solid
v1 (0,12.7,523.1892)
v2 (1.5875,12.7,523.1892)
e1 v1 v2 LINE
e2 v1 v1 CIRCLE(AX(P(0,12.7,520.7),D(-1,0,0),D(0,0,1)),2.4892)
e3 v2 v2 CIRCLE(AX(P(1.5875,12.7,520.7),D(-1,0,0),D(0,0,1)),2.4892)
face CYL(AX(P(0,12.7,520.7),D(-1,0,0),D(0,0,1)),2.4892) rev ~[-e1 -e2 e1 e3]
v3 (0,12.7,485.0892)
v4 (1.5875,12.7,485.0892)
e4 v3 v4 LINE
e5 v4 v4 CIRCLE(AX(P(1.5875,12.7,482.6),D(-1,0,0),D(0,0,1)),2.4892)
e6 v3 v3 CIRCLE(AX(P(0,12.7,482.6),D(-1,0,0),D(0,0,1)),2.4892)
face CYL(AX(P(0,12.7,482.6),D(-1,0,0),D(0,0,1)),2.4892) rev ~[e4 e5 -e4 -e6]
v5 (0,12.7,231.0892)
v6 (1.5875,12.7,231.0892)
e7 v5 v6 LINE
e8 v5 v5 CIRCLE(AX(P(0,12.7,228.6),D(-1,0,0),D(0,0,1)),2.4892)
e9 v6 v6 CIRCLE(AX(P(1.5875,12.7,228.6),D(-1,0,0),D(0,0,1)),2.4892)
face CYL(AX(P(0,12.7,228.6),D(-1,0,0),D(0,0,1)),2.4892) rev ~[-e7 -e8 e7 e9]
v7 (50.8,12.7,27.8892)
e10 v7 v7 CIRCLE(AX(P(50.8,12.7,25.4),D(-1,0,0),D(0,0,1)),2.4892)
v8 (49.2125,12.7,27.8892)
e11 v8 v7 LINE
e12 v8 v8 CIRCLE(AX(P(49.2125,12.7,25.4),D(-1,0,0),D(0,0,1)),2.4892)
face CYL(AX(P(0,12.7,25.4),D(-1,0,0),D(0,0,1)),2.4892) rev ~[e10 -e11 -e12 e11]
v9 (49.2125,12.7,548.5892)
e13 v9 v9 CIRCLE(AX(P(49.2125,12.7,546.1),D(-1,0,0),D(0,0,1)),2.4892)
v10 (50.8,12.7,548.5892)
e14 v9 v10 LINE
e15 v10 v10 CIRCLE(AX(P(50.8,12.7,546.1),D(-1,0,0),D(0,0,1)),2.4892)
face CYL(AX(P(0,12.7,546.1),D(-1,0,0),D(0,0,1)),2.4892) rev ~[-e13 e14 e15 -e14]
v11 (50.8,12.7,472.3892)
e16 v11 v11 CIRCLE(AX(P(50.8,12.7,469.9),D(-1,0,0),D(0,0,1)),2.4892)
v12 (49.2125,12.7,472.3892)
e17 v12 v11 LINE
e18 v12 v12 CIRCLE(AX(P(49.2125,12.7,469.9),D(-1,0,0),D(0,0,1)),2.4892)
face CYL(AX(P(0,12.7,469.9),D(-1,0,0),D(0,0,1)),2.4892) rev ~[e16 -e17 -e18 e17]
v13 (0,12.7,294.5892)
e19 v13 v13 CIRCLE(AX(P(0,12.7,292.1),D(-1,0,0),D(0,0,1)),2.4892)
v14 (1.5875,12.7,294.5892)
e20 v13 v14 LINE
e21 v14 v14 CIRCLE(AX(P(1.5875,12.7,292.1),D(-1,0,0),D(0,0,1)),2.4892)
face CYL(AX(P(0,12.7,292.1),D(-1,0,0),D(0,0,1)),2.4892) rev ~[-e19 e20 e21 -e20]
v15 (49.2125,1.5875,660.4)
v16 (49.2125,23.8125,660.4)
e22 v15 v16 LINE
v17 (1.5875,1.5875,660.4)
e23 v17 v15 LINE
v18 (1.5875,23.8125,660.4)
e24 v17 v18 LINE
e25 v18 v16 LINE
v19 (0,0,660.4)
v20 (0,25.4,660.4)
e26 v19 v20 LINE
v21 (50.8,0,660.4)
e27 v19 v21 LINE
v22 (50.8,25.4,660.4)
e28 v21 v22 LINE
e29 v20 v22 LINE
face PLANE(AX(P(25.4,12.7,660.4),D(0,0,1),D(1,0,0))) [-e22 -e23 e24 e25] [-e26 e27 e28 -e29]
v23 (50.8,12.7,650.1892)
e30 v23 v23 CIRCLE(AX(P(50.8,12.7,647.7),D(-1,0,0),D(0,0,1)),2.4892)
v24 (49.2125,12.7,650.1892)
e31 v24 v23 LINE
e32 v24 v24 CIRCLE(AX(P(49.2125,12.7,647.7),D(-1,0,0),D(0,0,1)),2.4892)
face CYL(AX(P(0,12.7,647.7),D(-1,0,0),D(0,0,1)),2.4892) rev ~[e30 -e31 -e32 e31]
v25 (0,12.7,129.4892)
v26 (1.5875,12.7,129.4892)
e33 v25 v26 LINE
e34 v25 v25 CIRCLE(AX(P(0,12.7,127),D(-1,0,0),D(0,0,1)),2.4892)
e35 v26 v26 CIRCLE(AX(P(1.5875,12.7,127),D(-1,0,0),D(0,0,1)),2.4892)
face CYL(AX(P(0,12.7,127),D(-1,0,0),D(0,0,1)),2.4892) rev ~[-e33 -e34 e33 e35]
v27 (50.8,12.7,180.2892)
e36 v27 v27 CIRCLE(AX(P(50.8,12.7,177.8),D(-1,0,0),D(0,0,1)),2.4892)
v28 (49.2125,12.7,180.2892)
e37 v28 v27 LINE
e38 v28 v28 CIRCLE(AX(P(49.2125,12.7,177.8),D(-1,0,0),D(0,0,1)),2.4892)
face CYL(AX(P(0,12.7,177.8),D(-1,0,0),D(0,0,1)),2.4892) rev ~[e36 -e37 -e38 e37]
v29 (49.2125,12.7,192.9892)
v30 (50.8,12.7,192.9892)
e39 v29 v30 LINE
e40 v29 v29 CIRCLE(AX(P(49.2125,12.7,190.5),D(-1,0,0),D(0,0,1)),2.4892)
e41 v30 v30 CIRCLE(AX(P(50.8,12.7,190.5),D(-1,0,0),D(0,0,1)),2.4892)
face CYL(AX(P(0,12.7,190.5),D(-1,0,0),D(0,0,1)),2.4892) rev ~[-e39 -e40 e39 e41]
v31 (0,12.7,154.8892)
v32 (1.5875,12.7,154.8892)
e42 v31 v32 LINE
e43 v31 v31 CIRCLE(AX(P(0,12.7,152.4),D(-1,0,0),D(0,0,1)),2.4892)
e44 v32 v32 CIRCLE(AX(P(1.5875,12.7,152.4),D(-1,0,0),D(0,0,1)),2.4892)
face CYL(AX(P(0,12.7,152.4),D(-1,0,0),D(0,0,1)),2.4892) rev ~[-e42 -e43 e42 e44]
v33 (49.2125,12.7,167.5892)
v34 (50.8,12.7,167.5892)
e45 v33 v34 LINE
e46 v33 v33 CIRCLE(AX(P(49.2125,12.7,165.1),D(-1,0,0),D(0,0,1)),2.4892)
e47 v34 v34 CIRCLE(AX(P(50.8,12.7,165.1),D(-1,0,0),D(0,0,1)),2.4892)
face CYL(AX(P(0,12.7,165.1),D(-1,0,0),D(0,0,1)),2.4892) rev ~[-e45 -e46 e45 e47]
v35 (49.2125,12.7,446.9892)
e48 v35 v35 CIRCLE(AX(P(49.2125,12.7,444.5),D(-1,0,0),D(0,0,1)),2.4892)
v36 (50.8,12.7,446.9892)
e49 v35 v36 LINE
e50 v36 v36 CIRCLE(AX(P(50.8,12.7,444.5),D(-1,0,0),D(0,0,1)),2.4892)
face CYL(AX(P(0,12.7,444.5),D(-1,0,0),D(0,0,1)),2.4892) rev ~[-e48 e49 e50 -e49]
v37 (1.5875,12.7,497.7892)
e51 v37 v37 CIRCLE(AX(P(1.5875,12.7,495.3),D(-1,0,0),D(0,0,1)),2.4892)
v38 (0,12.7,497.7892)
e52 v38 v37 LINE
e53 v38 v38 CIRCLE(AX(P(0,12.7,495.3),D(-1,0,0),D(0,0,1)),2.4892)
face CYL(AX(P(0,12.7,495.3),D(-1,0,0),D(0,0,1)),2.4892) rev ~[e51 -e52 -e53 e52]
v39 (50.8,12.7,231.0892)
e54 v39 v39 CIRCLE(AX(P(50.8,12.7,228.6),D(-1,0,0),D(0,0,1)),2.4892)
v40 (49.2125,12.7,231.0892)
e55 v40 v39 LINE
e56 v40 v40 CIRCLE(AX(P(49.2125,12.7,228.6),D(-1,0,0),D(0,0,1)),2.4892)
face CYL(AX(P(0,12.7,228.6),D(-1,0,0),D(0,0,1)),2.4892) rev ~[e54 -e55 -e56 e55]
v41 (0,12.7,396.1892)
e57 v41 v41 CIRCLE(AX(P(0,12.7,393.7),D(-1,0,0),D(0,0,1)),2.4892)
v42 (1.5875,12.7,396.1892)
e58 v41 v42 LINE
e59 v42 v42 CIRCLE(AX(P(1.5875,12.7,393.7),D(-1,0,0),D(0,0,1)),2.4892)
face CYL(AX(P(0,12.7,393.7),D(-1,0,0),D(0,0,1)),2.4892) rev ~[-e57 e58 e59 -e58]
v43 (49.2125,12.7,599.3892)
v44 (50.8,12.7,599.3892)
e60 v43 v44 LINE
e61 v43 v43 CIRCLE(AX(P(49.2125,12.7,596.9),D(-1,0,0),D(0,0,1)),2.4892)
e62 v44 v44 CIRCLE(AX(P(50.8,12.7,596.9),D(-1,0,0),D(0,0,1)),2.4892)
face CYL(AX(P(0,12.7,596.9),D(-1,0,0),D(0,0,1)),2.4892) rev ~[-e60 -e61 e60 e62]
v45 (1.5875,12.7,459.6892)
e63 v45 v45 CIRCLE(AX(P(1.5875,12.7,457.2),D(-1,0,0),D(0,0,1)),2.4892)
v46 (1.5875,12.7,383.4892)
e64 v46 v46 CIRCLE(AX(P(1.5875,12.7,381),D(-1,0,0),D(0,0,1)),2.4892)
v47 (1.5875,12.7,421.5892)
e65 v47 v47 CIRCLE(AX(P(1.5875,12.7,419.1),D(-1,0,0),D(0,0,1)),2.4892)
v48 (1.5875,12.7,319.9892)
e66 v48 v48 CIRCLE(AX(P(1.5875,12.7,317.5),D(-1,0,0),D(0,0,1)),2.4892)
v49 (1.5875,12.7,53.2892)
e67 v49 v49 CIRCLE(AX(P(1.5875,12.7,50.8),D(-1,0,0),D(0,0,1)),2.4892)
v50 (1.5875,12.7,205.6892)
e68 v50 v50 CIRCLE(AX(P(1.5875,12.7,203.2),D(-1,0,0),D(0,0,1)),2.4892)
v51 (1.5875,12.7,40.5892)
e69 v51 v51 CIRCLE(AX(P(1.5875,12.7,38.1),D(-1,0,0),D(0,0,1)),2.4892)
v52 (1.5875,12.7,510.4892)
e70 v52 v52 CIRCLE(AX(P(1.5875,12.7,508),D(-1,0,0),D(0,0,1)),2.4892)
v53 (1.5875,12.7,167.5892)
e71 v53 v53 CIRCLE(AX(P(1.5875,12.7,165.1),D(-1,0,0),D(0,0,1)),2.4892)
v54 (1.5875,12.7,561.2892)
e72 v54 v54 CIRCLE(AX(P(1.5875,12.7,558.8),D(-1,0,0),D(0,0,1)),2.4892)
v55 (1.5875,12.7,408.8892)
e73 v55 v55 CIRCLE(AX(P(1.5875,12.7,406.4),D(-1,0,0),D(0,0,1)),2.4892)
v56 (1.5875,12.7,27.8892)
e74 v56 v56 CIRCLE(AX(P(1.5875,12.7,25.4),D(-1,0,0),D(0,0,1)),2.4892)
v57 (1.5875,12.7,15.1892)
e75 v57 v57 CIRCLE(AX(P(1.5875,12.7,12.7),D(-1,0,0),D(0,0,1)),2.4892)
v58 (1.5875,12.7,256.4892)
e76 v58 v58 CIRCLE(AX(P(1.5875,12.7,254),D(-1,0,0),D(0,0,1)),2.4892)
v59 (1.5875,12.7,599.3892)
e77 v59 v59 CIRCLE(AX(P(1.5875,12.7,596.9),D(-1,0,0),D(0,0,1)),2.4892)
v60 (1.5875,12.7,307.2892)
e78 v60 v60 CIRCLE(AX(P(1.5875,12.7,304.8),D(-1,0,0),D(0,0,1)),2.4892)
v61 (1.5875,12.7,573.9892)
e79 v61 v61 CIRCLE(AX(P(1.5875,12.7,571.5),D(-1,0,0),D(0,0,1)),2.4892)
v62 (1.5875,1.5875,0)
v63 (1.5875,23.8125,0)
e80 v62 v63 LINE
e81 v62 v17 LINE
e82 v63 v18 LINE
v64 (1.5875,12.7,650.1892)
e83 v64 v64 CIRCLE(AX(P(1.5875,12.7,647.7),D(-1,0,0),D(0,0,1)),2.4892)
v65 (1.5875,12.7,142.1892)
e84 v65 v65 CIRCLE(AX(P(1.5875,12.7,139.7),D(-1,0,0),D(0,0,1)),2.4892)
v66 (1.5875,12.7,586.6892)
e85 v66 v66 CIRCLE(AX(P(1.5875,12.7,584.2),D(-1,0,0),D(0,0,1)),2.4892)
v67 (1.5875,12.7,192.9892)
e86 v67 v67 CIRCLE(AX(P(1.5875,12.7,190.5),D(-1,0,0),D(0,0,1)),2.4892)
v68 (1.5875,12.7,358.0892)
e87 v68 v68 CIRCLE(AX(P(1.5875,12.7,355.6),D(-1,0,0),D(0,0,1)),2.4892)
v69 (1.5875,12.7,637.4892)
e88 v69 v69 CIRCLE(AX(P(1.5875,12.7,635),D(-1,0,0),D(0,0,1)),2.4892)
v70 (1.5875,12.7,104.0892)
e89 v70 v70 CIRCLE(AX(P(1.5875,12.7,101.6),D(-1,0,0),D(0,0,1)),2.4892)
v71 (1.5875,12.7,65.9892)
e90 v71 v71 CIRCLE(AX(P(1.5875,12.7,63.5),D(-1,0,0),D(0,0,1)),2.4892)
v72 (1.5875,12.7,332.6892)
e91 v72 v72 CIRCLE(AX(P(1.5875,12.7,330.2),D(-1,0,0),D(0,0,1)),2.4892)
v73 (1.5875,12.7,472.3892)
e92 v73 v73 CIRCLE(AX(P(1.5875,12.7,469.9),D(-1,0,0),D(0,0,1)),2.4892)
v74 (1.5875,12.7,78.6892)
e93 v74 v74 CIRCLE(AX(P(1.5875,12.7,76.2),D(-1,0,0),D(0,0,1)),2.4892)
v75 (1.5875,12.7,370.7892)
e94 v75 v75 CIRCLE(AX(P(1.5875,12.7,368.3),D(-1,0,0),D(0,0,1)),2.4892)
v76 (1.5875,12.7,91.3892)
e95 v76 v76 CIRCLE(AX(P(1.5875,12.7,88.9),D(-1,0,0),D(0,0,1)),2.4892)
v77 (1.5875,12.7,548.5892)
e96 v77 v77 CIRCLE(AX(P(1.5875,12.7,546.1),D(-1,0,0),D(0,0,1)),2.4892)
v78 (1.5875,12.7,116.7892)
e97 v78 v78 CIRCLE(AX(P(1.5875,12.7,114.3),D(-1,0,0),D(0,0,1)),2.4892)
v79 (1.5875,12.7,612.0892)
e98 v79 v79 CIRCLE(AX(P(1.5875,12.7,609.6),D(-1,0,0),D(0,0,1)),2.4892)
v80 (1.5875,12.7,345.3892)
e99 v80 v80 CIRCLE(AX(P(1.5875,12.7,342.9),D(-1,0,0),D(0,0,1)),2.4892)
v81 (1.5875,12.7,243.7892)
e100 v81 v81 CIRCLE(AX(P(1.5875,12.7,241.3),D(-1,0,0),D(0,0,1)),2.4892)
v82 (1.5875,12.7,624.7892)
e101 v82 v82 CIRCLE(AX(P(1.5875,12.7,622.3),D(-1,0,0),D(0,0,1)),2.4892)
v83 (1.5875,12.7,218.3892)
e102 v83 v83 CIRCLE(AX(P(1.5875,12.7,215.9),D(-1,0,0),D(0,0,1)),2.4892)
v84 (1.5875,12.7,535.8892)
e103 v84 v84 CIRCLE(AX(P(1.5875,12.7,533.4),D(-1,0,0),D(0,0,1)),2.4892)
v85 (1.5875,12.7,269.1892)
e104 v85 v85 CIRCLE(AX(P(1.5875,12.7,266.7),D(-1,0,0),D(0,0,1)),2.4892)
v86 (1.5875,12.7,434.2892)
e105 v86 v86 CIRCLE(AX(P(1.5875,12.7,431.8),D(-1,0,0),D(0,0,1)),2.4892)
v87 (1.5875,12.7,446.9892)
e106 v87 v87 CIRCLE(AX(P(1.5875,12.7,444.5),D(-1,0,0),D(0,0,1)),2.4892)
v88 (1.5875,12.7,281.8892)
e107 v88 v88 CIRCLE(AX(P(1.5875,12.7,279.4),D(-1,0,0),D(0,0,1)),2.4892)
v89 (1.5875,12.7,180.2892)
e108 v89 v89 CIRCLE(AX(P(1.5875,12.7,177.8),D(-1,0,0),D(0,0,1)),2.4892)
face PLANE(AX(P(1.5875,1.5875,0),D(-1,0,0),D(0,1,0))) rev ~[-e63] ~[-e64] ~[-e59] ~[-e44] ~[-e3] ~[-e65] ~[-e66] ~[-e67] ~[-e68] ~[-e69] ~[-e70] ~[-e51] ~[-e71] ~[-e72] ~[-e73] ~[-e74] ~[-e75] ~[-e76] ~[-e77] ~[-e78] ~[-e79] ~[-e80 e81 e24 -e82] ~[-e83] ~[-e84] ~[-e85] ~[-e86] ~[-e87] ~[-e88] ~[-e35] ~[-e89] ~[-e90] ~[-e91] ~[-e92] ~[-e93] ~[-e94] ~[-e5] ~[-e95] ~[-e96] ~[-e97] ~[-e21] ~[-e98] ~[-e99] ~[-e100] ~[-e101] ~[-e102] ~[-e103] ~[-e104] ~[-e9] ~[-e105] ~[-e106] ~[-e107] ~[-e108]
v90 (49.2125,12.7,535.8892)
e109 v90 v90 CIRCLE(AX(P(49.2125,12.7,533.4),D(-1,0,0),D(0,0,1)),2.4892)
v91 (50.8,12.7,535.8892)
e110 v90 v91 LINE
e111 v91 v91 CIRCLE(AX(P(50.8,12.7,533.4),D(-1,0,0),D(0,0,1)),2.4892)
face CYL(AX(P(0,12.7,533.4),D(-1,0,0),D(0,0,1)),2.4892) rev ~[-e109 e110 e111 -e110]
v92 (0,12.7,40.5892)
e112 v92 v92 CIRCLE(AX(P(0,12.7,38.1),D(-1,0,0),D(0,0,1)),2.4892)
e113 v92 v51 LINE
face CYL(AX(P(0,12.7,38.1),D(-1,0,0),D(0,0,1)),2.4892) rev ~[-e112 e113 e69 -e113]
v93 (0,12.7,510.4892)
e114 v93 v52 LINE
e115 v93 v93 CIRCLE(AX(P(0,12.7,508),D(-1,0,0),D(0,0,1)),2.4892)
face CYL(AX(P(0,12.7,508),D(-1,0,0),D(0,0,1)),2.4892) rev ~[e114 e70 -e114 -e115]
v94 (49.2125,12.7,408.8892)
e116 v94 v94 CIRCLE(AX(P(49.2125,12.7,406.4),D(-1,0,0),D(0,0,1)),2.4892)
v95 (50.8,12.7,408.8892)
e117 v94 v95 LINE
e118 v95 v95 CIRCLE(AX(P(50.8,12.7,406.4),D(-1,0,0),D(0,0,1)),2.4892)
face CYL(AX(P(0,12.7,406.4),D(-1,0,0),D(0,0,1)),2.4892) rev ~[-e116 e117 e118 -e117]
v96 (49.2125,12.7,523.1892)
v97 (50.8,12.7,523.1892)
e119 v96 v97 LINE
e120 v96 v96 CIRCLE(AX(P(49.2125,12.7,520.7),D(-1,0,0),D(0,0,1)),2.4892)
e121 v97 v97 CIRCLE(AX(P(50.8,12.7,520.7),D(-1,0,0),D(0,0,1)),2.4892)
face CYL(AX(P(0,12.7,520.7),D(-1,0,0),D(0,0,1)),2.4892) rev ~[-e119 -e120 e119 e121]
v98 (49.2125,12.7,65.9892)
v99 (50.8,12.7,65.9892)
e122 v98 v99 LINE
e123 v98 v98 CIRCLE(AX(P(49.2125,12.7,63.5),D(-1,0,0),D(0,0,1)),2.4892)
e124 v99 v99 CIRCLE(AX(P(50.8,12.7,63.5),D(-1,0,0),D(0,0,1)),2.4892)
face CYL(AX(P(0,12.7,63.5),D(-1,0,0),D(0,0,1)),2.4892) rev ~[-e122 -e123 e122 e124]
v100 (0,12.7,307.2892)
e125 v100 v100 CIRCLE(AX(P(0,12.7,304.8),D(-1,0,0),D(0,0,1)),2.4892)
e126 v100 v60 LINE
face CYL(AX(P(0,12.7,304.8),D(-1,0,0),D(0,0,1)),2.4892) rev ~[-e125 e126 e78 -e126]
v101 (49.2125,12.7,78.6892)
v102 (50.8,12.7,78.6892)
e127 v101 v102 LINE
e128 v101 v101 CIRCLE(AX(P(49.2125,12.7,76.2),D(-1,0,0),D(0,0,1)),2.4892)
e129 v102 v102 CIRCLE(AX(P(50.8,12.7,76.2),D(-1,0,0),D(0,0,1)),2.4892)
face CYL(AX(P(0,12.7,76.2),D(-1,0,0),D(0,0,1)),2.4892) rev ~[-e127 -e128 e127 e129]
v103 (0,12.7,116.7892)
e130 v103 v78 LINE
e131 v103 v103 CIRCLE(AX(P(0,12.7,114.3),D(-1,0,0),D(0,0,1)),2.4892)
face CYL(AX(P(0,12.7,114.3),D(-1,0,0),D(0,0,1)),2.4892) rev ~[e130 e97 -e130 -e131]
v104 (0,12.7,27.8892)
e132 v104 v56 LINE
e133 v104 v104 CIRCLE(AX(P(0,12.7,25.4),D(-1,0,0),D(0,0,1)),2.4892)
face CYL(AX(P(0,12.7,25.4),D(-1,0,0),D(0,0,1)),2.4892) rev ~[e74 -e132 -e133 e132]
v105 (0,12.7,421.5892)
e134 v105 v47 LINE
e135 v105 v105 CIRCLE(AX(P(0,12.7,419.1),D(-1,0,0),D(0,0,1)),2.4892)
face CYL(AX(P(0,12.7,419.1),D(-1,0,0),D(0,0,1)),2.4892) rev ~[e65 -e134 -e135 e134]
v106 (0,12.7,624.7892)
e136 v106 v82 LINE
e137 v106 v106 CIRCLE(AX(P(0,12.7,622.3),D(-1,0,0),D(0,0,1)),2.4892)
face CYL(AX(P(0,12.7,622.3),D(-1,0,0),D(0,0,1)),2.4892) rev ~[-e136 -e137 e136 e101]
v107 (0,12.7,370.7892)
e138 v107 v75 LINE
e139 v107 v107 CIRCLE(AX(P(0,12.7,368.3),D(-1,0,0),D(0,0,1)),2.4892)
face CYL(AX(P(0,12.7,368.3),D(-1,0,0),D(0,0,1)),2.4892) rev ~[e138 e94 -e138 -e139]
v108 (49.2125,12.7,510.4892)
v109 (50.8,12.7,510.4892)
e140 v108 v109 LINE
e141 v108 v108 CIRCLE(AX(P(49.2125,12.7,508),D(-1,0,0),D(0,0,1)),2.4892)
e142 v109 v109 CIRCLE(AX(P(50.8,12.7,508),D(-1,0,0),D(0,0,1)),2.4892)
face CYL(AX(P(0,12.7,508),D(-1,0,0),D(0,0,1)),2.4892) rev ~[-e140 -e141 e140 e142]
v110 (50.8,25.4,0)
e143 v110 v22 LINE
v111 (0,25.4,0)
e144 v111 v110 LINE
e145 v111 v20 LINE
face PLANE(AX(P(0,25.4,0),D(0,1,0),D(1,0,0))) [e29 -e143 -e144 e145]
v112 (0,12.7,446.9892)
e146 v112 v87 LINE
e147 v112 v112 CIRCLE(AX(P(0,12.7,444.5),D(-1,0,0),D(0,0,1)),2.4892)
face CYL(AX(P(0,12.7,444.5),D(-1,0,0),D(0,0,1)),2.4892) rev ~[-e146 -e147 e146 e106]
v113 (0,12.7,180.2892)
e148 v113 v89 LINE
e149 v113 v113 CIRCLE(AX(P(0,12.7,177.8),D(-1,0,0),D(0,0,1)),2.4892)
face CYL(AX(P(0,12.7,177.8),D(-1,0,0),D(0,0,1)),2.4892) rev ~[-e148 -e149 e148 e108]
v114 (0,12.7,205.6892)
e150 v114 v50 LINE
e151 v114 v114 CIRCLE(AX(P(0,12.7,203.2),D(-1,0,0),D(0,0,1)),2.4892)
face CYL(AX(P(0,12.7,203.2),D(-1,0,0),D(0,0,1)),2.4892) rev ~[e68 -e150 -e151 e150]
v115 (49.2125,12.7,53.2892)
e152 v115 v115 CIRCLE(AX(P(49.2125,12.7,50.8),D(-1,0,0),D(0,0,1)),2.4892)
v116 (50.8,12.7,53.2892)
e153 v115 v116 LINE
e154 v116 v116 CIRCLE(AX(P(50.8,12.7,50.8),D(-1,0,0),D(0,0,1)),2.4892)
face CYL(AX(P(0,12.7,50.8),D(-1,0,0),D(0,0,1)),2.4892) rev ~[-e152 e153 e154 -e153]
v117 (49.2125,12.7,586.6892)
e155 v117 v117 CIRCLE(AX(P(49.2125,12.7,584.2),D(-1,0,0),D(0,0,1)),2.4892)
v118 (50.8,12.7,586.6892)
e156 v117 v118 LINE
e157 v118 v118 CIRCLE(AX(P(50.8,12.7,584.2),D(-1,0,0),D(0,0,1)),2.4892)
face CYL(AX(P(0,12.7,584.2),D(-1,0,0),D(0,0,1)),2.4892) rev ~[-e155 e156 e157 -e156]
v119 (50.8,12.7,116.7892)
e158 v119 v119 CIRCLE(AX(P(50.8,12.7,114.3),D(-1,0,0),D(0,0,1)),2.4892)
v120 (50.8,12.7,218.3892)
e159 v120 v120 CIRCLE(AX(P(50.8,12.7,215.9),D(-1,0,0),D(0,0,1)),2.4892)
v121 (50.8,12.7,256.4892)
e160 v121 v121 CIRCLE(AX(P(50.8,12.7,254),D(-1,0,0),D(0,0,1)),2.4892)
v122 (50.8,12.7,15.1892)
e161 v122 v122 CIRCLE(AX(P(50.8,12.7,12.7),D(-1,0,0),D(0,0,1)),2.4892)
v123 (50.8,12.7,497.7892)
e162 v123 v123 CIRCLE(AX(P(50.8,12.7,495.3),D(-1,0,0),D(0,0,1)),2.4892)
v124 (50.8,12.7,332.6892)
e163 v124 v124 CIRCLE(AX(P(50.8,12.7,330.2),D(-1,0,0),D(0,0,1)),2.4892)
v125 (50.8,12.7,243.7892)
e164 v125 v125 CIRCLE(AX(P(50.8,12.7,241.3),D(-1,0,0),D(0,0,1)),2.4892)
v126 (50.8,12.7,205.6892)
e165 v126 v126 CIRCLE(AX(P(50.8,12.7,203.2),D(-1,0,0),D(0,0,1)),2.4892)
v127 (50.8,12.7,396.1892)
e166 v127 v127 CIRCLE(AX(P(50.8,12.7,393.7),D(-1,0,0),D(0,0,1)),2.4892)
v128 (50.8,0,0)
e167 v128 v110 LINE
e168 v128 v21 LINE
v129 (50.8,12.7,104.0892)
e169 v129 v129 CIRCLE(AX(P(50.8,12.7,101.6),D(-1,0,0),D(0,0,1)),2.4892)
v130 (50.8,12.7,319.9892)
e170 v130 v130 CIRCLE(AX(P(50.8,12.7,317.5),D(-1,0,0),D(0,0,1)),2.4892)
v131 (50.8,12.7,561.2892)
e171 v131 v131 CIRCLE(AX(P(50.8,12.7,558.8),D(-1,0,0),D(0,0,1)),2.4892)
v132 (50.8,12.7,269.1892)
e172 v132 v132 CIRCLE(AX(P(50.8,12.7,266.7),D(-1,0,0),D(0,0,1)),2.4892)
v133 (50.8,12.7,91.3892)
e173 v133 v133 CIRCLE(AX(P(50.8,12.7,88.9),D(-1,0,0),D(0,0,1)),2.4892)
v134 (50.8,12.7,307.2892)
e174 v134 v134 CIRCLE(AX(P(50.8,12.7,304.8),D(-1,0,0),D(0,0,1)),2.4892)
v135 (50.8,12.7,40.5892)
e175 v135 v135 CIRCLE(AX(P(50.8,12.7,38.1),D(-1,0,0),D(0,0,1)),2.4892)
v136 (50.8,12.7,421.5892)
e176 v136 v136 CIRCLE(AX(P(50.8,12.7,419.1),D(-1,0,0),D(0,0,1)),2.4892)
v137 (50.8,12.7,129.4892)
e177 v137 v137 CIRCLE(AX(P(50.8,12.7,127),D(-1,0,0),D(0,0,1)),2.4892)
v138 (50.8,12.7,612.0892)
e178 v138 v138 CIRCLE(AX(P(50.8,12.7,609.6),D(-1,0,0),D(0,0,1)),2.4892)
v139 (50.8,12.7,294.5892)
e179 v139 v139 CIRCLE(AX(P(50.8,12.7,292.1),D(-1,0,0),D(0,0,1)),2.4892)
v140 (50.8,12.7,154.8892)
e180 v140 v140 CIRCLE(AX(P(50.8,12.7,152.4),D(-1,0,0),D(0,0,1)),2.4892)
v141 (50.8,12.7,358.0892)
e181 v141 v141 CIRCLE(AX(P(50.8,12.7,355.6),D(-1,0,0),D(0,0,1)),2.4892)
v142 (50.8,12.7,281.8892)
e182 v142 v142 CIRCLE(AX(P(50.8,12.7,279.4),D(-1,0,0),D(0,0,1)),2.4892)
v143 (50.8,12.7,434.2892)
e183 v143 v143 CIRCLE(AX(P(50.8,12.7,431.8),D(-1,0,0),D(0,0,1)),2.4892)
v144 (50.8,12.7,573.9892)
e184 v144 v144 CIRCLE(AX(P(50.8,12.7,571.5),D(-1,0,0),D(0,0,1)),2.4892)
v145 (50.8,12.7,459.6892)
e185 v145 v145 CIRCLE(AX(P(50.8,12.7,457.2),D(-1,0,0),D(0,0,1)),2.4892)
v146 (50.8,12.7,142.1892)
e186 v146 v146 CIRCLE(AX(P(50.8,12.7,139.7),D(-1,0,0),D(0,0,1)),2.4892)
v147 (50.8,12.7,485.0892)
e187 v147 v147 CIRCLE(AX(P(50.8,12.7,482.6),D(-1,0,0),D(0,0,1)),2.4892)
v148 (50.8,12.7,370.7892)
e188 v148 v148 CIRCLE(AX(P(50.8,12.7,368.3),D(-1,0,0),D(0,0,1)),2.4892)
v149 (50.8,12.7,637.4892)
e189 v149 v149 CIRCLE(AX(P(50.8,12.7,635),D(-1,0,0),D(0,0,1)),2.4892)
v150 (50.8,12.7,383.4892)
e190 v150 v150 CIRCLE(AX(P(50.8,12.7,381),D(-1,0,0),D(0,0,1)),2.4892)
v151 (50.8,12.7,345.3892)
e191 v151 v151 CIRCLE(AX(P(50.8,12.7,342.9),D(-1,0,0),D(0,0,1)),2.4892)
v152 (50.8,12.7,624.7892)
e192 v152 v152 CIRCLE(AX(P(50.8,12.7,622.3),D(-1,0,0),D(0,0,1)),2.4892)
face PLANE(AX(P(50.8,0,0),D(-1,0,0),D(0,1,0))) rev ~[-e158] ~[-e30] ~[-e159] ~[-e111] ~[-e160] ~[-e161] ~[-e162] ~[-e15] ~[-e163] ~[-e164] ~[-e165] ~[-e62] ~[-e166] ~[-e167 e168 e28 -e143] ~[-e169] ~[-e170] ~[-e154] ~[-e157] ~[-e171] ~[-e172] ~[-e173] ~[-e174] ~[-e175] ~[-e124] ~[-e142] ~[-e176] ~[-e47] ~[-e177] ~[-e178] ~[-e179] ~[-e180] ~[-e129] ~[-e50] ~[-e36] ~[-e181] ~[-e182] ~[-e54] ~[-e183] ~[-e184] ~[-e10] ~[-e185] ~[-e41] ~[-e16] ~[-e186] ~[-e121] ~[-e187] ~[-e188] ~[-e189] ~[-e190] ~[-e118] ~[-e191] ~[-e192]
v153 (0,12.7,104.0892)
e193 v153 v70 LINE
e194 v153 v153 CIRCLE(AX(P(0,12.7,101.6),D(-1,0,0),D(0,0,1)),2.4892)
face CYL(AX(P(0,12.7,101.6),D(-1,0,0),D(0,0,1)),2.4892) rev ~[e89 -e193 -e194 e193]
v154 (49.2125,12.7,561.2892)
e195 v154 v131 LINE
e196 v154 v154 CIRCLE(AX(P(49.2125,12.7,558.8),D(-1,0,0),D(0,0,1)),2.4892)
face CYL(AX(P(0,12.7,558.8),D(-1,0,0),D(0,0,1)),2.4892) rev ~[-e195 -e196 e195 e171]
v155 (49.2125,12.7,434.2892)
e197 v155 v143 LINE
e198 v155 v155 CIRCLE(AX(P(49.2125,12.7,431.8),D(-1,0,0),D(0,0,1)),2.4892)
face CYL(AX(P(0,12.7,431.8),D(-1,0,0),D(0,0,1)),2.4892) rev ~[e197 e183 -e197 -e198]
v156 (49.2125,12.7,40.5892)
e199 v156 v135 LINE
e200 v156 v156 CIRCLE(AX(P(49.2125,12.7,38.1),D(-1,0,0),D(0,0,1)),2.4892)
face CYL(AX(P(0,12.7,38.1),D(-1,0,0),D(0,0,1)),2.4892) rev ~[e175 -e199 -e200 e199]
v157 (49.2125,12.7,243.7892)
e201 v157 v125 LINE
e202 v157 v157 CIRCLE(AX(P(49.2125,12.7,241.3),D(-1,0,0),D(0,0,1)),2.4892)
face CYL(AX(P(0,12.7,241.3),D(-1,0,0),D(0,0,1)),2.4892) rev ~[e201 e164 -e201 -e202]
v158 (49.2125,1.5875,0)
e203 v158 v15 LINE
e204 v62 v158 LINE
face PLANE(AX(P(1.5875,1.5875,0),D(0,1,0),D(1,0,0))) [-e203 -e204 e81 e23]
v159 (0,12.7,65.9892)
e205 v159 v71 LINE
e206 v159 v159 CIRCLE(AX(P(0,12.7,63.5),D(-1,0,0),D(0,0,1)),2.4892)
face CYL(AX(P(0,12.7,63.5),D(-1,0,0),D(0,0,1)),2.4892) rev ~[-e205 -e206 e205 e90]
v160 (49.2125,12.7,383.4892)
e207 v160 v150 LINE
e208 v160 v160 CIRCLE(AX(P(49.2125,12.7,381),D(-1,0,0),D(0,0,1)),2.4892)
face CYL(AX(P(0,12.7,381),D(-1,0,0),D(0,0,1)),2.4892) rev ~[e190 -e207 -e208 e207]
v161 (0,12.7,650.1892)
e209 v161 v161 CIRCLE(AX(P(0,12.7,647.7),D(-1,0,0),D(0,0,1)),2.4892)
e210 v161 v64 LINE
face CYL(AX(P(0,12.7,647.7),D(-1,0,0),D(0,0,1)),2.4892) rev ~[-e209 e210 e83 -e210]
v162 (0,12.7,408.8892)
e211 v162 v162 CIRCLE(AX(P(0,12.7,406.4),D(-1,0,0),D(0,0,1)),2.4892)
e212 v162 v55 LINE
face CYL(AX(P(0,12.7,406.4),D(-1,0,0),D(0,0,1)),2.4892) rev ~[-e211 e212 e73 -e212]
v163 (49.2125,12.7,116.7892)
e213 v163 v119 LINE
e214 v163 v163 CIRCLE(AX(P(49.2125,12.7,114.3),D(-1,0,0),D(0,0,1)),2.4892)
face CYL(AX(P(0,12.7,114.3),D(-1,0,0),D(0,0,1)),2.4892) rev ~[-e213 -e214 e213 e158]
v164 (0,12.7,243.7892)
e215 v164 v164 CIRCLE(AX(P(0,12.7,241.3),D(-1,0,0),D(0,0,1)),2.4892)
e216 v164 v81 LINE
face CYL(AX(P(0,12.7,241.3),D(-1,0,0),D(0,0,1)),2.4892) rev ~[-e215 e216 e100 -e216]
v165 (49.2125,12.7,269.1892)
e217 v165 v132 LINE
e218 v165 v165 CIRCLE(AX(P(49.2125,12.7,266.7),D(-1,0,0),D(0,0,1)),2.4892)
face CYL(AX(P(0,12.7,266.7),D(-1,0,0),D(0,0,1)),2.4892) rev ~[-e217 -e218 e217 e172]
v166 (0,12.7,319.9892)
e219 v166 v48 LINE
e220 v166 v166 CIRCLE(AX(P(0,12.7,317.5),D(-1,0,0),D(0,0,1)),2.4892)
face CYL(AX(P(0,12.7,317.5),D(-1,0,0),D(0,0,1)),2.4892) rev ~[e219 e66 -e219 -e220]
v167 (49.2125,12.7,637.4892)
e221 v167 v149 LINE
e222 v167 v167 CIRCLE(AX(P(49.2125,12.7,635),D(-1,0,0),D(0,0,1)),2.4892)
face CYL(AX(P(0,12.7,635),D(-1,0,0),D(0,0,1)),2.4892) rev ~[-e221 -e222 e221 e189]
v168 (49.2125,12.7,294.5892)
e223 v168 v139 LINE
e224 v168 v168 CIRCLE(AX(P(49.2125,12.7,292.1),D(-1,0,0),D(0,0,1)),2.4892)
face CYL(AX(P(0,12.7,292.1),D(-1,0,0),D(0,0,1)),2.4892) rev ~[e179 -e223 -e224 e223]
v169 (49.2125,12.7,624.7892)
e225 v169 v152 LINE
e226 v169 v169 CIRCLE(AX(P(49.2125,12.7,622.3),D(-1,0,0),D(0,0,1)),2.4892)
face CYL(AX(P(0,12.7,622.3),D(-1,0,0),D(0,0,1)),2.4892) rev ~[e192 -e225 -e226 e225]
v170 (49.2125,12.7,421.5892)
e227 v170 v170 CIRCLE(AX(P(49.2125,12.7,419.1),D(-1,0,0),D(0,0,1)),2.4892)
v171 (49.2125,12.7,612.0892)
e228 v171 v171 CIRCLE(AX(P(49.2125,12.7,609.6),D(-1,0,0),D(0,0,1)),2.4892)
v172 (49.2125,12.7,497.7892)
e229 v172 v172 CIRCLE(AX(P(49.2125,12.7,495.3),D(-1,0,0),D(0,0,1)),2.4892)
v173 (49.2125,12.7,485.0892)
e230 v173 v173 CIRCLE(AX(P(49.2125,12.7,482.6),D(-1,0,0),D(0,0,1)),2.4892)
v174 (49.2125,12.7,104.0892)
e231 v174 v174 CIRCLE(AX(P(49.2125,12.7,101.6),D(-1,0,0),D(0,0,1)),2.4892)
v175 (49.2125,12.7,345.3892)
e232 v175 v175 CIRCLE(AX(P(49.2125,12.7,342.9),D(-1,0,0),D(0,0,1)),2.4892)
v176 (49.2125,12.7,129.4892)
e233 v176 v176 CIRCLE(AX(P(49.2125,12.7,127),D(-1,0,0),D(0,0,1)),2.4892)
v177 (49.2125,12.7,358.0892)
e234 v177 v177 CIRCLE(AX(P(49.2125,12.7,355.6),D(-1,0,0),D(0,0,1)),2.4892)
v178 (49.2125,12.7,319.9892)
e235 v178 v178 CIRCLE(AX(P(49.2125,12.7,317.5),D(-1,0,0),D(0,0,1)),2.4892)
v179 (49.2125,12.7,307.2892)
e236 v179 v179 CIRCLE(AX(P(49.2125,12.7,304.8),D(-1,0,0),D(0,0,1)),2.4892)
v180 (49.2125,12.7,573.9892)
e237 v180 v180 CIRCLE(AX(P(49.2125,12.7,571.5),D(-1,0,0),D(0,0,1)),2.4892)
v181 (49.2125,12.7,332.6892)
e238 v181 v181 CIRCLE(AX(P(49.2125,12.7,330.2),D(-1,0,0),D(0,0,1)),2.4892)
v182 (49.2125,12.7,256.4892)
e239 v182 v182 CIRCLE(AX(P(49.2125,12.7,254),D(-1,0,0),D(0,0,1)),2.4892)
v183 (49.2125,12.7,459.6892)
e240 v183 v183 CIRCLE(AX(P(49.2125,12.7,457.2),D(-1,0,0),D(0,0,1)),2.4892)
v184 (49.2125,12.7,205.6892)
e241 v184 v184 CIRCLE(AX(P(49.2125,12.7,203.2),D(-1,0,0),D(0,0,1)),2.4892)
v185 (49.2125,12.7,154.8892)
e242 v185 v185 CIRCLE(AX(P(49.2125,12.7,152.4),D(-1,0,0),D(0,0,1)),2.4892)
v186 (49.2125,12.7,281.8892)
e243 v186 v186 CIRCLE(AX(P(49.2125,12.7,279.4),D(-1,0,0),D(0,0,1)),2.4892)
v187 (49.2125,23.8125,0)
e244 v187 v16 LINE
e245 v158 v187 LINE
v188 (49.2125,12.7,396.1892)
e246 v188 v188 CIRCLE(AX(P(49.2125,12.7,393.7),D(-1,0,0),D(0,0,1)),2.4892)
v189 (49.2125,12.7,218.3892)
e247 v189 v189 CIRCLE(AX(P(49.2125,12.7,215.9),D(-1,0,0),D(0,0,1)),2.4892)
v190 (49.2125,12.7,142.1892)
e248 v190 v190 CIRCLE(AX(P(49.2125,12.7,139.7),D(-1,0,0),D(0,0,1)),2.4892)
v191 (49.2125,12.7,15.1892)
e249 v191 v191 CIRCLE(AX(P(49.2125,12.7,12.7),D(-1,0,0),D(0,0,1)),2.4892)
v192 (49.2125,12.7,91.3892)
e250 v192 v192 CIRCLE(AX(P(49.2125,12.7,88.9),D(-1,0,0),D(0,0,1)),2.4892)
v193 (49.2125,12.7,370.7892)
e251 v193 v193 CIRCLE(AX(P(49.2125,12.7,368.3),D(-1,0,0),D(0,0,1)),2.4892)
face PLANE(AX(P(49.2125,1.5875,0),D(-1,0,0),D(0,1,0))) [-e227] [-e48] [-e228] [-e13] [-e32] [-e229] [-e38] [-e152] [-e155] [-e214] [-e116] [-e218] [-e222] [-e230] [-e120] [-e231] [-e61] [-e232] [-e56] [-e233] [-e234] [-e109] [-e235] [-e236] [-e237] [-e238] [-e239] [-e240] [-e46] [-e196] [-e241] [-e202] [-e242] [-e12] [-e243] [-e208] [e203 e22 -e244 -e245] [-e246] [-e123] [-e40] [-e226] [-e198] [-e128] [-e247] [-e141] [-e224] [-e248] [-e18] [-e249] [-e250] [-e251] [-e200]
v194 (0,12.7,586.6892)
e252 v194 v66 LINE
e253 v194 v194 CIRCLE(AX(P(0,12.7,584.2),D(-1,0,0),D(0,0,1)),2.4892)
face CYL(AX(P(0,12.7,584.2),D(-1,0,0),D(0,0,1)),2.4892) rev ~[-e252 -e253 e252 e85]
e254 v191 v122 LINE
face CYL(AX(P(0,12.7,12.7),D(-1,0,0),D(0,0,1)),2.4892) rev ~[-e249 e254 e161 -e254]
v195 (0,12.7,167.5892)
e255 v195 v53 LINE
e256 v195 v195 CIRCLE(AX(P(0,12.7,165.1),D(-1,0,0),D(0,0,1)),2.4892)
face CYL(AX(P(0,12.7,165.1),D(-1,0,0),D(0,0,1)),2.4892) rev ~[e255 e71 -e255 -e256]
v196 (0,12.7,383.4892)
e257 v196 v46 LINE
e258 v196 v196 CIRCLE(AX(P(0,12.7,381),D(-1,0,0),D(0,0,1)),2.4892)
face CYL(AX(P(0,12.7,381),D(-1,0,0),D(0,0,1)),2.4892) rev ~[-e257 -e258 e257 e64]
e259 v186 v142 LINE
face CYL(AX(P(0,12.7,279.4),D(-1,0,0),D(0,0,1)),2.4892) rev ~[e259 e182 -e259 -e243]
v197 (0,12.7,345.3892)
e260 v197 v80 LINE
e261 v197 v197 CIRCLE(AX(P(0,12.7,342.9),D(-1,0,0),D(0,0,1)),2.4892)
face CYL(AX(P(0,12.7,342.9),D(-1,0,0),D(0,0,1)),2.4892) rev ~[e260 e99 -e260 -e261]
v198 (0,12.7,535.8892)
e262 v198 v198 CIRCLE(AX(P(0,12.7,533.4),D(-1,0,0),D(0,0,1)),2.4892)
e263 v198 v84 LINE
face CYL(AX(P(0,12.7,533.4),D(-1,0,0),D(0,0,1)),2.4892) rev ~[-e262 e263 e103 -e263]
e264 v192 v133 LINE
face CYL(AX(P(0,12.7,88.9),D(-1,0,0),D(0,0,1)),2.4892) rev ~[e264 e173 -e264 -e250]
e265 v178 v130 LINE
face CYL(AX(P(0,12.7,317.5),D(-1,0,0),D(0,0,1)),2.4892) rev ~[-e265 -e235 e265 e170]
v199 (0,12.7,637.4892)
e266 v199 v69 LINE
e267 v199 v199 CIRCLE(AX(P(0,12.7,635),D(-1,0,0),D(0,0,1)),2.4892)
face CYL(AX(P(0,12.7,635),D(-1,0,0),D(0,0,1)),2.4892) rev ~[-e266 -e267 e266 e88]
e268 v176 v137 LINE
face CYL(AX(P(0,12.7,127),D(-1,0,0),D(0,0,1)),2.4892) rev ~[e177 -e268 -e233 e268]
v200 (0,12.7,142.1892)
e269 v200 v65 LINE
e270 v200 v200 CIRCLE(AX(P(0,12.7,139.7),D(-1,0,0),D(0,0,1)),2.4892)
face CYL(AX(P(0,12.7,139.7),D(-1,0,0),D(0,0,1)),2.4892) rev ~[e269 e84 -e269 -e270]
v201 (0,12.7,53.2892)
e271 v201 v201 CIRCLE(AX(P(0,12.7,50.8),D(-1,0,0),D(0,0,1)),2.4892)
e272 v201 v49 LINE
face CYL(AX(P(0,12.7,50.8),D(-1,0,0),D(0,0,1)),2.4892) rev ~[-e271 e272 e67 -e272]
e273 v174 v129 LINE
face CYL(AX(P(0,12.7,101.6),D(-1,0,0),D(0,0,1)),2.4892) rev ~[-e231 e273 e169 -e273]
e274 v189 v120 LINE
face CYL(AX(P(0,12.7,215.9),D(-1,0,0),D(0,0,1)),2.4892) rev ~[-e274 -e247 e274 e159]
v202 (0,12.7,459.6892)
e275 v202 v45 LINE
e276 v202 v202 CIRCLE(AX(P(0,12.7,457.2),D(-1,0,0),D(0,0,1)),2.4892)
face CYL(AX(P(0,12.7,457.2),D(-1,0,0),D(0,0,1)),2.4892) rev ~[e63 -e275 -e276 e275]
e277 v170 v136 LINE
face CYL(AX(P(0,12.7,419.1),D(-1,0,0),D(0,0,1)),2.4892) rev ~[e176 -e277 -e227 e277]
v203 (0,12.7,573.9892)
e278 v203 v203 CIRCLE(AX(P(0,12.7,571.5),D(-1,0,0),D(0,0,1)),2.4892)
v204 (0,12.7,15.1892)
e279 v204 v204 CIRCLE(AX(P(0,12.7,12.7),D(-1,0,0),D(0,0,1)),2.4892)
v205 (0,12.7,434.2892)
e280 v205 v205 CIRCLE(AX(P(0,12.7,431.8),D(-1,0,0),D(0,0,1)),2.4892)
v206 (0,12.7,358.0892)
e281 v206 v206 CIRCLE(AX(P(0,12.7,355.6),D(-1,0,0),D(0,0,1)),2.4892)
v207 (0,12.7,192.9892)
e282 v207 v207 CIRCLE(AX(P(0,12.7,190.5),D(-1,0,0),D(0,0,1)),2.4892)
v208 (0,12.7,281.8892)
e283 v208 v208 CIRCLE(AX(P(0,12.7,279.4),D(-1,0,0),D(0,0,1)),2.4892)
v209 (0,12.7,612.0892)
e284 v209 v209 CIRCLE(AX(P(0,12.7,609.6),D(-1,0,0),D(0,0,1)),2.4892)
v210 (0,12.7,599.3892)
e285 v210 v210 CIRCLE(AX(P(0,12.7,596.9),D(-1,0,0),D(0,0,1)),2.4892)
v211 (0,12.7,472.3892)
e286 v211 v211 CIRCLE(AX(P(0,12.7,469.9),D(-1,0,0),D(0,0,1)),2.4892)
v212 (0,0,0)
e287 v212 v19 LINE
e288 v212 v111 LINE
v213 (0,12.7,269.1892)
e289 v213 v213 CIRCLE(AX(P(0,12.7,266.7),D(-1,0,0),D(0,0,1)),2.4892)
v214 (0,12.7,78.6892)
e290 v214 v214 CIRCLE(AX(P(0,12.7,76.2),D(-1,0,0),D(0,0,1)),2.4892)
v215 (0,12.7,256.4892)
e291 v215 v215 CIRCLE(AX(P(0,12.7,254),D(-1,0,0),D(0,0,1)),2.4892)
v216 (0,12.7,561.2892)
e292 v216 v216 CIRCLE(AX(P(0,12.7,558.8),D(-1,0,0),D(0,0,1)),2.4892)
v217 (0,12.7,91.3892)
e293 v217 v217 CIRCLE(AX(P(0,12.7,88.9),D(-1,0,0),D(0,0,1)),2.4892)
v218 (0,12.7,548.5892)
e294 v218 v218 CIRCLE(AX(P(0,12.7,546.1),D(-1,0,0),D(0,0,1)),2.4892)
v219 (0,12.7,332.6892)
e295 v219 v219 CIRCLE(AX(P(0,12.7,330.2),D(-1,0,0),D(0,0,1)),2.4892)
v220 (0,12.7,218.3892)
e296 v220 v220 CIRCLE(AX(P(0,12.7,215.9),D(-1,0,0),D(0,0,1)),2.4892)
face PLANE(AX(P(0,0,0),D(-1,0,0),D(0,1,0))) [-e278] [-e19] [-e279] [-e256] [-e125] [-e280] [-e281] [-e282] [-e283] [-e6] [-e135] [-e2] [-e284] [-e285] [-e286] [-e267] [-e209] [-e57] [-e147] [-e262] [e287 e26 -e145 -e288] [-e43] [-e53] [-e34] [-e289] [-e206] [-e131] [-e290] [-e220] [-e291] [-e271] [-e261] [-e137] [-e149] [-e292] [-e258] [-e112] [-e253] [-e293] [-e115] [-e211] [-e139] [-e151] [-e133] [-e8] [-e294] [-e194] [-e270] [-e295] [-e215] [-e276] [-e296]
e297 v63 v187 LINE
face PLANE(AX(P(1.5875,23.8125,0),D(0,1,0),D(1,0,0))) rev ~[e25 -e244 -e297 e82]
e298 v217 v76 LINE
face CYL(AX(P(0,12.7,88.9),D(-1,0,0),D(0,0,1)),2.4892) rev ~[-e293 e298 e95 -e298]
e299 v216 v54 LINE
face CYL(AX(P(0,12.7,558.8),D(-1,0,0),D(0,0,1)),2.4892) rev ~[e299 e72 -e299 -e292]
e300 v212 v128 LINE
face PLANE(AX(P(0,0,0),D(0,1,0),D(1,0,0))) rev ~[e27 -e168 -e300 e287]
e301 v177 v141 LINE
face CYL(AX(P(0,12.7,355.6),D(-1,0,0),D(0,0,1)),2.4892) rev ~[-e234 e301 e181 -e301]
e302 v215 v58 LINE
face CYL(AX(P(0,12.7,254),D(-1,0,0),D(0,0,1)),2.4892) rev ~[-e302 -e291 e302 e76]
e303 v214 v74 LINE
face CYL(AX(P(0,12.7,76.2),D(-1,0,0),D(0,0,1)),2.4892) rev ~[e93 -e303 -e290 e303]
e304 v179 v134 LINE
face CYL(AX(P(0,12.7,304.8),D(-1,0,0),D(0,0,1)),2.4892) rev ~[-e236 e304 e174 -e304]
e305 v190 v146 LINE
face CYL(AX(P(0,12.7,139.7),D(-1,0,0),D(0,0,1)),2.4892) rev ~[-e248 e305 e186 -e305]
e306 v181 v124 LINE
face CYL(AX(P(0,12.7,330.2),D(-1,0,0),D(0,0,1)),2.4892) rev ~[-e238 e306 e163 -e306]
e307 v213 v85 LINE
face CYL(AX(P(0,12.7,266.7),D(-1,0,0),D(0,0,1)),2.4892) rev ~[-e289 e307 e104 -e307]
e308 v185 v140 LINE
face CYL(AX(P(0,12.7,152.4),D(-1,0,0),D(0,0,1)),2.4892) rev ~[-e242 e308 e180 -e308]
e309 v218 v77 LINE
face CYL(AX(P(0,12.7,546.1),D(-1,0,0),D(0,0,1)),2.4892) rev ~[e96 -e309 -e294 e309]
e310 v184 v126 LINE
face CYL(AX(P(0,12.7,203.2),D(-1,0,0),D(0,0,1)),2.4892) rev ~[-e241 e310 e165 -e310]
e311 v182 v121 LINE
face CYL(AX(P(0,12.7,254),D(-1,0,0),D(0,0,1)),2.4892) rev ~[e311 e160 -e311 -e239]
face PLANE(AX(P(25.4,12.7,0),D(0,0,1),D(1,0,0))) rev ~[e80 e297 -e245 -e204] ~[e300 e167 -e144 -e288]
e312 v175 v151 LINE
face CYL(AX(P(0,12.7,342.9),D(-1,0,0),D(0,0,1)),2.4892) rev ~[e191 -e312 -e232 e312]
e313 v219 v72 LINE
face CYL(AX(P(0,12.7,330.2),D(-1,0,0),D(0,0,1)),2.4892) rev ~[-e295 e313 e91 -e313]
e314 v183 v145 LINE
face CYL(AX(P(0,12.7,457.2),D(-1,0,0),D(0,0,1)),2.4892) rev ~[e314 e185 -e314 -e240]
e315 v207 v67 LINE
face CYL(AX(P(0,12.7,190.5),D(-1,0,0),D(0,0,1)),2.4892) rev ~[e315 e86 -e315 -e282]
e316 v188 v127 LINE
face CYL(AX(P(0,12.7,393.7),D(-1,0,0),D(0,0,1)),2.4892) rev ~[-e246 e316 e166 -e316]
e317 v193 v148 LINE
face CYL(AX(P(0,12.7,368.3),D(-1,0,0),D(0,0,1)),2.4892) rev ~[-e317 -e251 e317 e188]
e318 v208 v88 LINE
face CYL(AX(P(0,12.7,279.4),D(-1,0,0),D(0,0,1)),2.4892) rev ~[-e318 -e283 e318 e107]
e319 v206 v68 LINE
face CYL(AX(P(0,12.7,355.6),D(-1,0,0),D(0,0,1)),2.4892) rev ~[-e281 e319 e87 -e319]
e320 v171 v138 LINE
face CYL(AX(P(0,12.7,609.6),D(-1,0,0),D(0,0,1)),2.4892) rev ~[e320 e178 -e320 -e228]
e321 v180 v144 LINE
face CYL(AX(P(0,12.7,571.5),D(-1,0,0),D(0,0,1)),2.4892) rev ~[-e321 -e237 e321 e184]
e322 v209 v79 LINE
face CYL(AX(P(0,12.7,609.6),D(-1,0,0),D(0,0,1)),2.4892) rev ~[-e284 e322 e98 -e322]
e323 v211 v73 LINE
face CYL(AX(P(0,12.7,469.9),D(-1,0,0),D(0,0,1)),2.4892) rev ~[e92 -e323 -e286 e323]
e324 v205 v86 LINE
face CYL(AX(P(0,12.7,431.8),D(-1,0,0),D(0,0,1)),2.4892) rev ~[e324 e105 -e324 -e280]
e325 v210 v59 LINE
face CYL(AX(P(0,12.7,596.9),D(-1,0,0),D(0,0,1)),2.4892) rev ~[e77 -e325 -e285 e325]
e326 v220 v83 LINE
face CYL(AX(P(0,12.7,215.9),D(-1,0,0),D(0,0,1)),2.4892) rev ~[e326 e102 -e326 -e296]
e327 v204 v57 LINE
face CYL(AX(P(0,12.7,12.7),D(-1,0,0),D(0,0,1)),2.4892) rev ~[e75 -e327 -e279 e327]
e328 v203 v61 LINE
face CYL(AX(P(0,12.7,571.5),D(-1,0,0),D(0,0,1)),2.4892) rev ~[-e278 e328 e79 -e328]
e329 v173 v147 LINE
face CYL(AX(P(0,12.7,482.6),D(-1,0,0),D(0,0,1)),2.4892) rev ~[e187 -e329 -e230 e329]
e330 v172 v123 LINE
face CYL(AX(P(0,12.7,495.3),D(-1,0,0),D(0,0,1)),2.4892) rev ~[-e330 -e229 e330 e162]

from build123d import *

# Parameters (mm, degrees)
SKETCH1_W           = 50.8
SKETCH1_H           = 25.4
SKETCH1_W_2         = 47.625
SKETCH1_H_2         = 22.225
BOSS_EXTRUDE1_DEPTH = 660.4
SKETCH2_R           = 2.4892
CUT_EXTRUDE1_DEPTH  = 51.8


with BuildPart() as part:
    # Sketch1 → Boss-Extrude1 (new body)
    with BuildSketch(Plane.XY):
        with Locations((25.4, 12.7)):
            Rectangle(SKETCH1_W, SKETCH1_H)
        with Locations((25.4, 12.7)):
            Rectangle(SKETCH1_W_2, SKETCH1_H_2, mode=Mode.SUBTRACT)
    extrude(amount=BOSS_EXTRUDE1_DEPTH)

    # Sketch2 → Cut-Extrude1 (cut, through all)
    with BuildSketch(Plane.ZY):
        with Locations((12.7, 12.7)):
            Circle(SKETCH2_R)
        with Locations((25.4, 12.7)):
            Circle(SKETCH2_R)
        with Locations((38.1, 12.7)):
            Circle(SKETCH2_R)
        with Locations((50.8, 12.7)):
            Circle(SKETCH2_R)
        with Locations((63.5, 12.7)):
            Circle(SKETCH2_R)
        with Locations((76.2, 12.7)):
            Circle(SKETCH2_R)
        with Locations((88.9, 12.7)):
            Circle(SKETCH2_R)
        with Locations((101.6, 12.7)):
            Circle(SKETCH2_R)
        with Locations((114.3, 12.7)):
            Circle(SKETCH2_R)
        with Locations((127, 12.7)):
            Circle(SKETCH2_R)
        with Locations((139.7, 12.7)):
            Circle(SKETCH2_R)
        with Locations((152.4, 12.7)):
            Circle(SKETCH2_R)
        with Locations((165.1, 12.7)):
            Circle(SKETCH2_R)
        with Locations((177.8, 12.7)):
            Circle(SKETCH2_R)
        with Locations((190.5, 12.7)):
            Circle(SKETCH2_R)
        with Locations((203.2, 12.7)):
            Circle(SKETCH2_R)
        with Locations((215.9, 12.7)):
            Circle(SKETCH2_R)
        with Locations((228.6, 12.7)):
            Circle(SKETCH2_R)
        with Locations((241.3, 12.7)):
            Circle(SKETCH2_R)
        with Locations((254, 12.7)):
            Circle(SKETCH2_R)
        with Locations((266.7, 12.7)):
            Circle(SKETCH2_R)
        with Locations((279.4, 12.7)):
            Circle(SKETCH2_R)
        with Locations((292.1, 12.7)):
            Circle(SKETCH2_R)
        with Locations((304.8, 12.7)):
            Circle(SKETCH2_R)
        with Locations((317.5, 12.7)):
            Circle(SKETCH2_R)
        with Locations((330.2, 12.7)):
            Circle(SKETCH2_R)
        with Locations((342.9, 12.7)):
            Circle(SKETCH2_R)
        with Locations((355.6, 12.7)):
            Circle(SKETCH2_R)
        with Locations((368.3, 12.7)):
            Circle(SKETCH2_R)
        with Locations((381, 12.7)):
            Circle(SKETCH2_R)
        with Locations((393.7, 12.7)):
            Circle(SKETCH2_R)
        with Locations((406.4, 12.7)):
            Circle(SKETCH2_R)
        with Locations((419.1, 12.7)):
            Circle(SKETCH2_R)
        with Locations((431.8, 12.7)):
            Circle(SKETCH2_R)
        with Locations((444.5, 12.7)):
            Circle(SKETCH2_R)
        with Locations((457.2, 12.7)):
            Circle(SKETCH2_R)
        with Locations((469.9, 12.7)):
            Circle(SKETCH2_R)
        with Locations((482.6, 12.7)):
            Circle(SKETCH2_R)
        with Locations((495.3, 12.7)):
            Circle(SKETCH2_R)
        with Locations((508, 12.7)):
            Circle(SKETCH2_R)
        with Locations((520.7, 12.7)):
            Circle(SKETCH2_R)
        with Locations((533.4, 12.7)):
            Circle(SKETCH2_R)
        with Locations((546.1, 12.7)):
            Circle(SKETCH2_R)
        with Locations((558.8, 12.7)):
            Circle(SKETCH2_R)
        with Locations((571.5, 12.7)):
            Circle(SKETCH2_R)
        with Locations((584.2, 12.7)):
            Circle(SKETCH2_R)
        with Locations((596.9, 12.7)):
            Circle(SKETCH2_R)
        with Locations((609.6, 12.7)):
            Circle(SKETCH2_R)
        with Locations((622.3, 12.7)):
            Circle(SKETCH2_R)
        with Locations((635, 12.7)):
            Circle(SKETCH2_R)
        with Locations((647.7, 12.7)):
            Circle(SKETCH2_R)
    extrude(amount=-CUT_EXTRUDE1_DEPTH, mode=Mode.SUBTRACT)


solid = part.part
